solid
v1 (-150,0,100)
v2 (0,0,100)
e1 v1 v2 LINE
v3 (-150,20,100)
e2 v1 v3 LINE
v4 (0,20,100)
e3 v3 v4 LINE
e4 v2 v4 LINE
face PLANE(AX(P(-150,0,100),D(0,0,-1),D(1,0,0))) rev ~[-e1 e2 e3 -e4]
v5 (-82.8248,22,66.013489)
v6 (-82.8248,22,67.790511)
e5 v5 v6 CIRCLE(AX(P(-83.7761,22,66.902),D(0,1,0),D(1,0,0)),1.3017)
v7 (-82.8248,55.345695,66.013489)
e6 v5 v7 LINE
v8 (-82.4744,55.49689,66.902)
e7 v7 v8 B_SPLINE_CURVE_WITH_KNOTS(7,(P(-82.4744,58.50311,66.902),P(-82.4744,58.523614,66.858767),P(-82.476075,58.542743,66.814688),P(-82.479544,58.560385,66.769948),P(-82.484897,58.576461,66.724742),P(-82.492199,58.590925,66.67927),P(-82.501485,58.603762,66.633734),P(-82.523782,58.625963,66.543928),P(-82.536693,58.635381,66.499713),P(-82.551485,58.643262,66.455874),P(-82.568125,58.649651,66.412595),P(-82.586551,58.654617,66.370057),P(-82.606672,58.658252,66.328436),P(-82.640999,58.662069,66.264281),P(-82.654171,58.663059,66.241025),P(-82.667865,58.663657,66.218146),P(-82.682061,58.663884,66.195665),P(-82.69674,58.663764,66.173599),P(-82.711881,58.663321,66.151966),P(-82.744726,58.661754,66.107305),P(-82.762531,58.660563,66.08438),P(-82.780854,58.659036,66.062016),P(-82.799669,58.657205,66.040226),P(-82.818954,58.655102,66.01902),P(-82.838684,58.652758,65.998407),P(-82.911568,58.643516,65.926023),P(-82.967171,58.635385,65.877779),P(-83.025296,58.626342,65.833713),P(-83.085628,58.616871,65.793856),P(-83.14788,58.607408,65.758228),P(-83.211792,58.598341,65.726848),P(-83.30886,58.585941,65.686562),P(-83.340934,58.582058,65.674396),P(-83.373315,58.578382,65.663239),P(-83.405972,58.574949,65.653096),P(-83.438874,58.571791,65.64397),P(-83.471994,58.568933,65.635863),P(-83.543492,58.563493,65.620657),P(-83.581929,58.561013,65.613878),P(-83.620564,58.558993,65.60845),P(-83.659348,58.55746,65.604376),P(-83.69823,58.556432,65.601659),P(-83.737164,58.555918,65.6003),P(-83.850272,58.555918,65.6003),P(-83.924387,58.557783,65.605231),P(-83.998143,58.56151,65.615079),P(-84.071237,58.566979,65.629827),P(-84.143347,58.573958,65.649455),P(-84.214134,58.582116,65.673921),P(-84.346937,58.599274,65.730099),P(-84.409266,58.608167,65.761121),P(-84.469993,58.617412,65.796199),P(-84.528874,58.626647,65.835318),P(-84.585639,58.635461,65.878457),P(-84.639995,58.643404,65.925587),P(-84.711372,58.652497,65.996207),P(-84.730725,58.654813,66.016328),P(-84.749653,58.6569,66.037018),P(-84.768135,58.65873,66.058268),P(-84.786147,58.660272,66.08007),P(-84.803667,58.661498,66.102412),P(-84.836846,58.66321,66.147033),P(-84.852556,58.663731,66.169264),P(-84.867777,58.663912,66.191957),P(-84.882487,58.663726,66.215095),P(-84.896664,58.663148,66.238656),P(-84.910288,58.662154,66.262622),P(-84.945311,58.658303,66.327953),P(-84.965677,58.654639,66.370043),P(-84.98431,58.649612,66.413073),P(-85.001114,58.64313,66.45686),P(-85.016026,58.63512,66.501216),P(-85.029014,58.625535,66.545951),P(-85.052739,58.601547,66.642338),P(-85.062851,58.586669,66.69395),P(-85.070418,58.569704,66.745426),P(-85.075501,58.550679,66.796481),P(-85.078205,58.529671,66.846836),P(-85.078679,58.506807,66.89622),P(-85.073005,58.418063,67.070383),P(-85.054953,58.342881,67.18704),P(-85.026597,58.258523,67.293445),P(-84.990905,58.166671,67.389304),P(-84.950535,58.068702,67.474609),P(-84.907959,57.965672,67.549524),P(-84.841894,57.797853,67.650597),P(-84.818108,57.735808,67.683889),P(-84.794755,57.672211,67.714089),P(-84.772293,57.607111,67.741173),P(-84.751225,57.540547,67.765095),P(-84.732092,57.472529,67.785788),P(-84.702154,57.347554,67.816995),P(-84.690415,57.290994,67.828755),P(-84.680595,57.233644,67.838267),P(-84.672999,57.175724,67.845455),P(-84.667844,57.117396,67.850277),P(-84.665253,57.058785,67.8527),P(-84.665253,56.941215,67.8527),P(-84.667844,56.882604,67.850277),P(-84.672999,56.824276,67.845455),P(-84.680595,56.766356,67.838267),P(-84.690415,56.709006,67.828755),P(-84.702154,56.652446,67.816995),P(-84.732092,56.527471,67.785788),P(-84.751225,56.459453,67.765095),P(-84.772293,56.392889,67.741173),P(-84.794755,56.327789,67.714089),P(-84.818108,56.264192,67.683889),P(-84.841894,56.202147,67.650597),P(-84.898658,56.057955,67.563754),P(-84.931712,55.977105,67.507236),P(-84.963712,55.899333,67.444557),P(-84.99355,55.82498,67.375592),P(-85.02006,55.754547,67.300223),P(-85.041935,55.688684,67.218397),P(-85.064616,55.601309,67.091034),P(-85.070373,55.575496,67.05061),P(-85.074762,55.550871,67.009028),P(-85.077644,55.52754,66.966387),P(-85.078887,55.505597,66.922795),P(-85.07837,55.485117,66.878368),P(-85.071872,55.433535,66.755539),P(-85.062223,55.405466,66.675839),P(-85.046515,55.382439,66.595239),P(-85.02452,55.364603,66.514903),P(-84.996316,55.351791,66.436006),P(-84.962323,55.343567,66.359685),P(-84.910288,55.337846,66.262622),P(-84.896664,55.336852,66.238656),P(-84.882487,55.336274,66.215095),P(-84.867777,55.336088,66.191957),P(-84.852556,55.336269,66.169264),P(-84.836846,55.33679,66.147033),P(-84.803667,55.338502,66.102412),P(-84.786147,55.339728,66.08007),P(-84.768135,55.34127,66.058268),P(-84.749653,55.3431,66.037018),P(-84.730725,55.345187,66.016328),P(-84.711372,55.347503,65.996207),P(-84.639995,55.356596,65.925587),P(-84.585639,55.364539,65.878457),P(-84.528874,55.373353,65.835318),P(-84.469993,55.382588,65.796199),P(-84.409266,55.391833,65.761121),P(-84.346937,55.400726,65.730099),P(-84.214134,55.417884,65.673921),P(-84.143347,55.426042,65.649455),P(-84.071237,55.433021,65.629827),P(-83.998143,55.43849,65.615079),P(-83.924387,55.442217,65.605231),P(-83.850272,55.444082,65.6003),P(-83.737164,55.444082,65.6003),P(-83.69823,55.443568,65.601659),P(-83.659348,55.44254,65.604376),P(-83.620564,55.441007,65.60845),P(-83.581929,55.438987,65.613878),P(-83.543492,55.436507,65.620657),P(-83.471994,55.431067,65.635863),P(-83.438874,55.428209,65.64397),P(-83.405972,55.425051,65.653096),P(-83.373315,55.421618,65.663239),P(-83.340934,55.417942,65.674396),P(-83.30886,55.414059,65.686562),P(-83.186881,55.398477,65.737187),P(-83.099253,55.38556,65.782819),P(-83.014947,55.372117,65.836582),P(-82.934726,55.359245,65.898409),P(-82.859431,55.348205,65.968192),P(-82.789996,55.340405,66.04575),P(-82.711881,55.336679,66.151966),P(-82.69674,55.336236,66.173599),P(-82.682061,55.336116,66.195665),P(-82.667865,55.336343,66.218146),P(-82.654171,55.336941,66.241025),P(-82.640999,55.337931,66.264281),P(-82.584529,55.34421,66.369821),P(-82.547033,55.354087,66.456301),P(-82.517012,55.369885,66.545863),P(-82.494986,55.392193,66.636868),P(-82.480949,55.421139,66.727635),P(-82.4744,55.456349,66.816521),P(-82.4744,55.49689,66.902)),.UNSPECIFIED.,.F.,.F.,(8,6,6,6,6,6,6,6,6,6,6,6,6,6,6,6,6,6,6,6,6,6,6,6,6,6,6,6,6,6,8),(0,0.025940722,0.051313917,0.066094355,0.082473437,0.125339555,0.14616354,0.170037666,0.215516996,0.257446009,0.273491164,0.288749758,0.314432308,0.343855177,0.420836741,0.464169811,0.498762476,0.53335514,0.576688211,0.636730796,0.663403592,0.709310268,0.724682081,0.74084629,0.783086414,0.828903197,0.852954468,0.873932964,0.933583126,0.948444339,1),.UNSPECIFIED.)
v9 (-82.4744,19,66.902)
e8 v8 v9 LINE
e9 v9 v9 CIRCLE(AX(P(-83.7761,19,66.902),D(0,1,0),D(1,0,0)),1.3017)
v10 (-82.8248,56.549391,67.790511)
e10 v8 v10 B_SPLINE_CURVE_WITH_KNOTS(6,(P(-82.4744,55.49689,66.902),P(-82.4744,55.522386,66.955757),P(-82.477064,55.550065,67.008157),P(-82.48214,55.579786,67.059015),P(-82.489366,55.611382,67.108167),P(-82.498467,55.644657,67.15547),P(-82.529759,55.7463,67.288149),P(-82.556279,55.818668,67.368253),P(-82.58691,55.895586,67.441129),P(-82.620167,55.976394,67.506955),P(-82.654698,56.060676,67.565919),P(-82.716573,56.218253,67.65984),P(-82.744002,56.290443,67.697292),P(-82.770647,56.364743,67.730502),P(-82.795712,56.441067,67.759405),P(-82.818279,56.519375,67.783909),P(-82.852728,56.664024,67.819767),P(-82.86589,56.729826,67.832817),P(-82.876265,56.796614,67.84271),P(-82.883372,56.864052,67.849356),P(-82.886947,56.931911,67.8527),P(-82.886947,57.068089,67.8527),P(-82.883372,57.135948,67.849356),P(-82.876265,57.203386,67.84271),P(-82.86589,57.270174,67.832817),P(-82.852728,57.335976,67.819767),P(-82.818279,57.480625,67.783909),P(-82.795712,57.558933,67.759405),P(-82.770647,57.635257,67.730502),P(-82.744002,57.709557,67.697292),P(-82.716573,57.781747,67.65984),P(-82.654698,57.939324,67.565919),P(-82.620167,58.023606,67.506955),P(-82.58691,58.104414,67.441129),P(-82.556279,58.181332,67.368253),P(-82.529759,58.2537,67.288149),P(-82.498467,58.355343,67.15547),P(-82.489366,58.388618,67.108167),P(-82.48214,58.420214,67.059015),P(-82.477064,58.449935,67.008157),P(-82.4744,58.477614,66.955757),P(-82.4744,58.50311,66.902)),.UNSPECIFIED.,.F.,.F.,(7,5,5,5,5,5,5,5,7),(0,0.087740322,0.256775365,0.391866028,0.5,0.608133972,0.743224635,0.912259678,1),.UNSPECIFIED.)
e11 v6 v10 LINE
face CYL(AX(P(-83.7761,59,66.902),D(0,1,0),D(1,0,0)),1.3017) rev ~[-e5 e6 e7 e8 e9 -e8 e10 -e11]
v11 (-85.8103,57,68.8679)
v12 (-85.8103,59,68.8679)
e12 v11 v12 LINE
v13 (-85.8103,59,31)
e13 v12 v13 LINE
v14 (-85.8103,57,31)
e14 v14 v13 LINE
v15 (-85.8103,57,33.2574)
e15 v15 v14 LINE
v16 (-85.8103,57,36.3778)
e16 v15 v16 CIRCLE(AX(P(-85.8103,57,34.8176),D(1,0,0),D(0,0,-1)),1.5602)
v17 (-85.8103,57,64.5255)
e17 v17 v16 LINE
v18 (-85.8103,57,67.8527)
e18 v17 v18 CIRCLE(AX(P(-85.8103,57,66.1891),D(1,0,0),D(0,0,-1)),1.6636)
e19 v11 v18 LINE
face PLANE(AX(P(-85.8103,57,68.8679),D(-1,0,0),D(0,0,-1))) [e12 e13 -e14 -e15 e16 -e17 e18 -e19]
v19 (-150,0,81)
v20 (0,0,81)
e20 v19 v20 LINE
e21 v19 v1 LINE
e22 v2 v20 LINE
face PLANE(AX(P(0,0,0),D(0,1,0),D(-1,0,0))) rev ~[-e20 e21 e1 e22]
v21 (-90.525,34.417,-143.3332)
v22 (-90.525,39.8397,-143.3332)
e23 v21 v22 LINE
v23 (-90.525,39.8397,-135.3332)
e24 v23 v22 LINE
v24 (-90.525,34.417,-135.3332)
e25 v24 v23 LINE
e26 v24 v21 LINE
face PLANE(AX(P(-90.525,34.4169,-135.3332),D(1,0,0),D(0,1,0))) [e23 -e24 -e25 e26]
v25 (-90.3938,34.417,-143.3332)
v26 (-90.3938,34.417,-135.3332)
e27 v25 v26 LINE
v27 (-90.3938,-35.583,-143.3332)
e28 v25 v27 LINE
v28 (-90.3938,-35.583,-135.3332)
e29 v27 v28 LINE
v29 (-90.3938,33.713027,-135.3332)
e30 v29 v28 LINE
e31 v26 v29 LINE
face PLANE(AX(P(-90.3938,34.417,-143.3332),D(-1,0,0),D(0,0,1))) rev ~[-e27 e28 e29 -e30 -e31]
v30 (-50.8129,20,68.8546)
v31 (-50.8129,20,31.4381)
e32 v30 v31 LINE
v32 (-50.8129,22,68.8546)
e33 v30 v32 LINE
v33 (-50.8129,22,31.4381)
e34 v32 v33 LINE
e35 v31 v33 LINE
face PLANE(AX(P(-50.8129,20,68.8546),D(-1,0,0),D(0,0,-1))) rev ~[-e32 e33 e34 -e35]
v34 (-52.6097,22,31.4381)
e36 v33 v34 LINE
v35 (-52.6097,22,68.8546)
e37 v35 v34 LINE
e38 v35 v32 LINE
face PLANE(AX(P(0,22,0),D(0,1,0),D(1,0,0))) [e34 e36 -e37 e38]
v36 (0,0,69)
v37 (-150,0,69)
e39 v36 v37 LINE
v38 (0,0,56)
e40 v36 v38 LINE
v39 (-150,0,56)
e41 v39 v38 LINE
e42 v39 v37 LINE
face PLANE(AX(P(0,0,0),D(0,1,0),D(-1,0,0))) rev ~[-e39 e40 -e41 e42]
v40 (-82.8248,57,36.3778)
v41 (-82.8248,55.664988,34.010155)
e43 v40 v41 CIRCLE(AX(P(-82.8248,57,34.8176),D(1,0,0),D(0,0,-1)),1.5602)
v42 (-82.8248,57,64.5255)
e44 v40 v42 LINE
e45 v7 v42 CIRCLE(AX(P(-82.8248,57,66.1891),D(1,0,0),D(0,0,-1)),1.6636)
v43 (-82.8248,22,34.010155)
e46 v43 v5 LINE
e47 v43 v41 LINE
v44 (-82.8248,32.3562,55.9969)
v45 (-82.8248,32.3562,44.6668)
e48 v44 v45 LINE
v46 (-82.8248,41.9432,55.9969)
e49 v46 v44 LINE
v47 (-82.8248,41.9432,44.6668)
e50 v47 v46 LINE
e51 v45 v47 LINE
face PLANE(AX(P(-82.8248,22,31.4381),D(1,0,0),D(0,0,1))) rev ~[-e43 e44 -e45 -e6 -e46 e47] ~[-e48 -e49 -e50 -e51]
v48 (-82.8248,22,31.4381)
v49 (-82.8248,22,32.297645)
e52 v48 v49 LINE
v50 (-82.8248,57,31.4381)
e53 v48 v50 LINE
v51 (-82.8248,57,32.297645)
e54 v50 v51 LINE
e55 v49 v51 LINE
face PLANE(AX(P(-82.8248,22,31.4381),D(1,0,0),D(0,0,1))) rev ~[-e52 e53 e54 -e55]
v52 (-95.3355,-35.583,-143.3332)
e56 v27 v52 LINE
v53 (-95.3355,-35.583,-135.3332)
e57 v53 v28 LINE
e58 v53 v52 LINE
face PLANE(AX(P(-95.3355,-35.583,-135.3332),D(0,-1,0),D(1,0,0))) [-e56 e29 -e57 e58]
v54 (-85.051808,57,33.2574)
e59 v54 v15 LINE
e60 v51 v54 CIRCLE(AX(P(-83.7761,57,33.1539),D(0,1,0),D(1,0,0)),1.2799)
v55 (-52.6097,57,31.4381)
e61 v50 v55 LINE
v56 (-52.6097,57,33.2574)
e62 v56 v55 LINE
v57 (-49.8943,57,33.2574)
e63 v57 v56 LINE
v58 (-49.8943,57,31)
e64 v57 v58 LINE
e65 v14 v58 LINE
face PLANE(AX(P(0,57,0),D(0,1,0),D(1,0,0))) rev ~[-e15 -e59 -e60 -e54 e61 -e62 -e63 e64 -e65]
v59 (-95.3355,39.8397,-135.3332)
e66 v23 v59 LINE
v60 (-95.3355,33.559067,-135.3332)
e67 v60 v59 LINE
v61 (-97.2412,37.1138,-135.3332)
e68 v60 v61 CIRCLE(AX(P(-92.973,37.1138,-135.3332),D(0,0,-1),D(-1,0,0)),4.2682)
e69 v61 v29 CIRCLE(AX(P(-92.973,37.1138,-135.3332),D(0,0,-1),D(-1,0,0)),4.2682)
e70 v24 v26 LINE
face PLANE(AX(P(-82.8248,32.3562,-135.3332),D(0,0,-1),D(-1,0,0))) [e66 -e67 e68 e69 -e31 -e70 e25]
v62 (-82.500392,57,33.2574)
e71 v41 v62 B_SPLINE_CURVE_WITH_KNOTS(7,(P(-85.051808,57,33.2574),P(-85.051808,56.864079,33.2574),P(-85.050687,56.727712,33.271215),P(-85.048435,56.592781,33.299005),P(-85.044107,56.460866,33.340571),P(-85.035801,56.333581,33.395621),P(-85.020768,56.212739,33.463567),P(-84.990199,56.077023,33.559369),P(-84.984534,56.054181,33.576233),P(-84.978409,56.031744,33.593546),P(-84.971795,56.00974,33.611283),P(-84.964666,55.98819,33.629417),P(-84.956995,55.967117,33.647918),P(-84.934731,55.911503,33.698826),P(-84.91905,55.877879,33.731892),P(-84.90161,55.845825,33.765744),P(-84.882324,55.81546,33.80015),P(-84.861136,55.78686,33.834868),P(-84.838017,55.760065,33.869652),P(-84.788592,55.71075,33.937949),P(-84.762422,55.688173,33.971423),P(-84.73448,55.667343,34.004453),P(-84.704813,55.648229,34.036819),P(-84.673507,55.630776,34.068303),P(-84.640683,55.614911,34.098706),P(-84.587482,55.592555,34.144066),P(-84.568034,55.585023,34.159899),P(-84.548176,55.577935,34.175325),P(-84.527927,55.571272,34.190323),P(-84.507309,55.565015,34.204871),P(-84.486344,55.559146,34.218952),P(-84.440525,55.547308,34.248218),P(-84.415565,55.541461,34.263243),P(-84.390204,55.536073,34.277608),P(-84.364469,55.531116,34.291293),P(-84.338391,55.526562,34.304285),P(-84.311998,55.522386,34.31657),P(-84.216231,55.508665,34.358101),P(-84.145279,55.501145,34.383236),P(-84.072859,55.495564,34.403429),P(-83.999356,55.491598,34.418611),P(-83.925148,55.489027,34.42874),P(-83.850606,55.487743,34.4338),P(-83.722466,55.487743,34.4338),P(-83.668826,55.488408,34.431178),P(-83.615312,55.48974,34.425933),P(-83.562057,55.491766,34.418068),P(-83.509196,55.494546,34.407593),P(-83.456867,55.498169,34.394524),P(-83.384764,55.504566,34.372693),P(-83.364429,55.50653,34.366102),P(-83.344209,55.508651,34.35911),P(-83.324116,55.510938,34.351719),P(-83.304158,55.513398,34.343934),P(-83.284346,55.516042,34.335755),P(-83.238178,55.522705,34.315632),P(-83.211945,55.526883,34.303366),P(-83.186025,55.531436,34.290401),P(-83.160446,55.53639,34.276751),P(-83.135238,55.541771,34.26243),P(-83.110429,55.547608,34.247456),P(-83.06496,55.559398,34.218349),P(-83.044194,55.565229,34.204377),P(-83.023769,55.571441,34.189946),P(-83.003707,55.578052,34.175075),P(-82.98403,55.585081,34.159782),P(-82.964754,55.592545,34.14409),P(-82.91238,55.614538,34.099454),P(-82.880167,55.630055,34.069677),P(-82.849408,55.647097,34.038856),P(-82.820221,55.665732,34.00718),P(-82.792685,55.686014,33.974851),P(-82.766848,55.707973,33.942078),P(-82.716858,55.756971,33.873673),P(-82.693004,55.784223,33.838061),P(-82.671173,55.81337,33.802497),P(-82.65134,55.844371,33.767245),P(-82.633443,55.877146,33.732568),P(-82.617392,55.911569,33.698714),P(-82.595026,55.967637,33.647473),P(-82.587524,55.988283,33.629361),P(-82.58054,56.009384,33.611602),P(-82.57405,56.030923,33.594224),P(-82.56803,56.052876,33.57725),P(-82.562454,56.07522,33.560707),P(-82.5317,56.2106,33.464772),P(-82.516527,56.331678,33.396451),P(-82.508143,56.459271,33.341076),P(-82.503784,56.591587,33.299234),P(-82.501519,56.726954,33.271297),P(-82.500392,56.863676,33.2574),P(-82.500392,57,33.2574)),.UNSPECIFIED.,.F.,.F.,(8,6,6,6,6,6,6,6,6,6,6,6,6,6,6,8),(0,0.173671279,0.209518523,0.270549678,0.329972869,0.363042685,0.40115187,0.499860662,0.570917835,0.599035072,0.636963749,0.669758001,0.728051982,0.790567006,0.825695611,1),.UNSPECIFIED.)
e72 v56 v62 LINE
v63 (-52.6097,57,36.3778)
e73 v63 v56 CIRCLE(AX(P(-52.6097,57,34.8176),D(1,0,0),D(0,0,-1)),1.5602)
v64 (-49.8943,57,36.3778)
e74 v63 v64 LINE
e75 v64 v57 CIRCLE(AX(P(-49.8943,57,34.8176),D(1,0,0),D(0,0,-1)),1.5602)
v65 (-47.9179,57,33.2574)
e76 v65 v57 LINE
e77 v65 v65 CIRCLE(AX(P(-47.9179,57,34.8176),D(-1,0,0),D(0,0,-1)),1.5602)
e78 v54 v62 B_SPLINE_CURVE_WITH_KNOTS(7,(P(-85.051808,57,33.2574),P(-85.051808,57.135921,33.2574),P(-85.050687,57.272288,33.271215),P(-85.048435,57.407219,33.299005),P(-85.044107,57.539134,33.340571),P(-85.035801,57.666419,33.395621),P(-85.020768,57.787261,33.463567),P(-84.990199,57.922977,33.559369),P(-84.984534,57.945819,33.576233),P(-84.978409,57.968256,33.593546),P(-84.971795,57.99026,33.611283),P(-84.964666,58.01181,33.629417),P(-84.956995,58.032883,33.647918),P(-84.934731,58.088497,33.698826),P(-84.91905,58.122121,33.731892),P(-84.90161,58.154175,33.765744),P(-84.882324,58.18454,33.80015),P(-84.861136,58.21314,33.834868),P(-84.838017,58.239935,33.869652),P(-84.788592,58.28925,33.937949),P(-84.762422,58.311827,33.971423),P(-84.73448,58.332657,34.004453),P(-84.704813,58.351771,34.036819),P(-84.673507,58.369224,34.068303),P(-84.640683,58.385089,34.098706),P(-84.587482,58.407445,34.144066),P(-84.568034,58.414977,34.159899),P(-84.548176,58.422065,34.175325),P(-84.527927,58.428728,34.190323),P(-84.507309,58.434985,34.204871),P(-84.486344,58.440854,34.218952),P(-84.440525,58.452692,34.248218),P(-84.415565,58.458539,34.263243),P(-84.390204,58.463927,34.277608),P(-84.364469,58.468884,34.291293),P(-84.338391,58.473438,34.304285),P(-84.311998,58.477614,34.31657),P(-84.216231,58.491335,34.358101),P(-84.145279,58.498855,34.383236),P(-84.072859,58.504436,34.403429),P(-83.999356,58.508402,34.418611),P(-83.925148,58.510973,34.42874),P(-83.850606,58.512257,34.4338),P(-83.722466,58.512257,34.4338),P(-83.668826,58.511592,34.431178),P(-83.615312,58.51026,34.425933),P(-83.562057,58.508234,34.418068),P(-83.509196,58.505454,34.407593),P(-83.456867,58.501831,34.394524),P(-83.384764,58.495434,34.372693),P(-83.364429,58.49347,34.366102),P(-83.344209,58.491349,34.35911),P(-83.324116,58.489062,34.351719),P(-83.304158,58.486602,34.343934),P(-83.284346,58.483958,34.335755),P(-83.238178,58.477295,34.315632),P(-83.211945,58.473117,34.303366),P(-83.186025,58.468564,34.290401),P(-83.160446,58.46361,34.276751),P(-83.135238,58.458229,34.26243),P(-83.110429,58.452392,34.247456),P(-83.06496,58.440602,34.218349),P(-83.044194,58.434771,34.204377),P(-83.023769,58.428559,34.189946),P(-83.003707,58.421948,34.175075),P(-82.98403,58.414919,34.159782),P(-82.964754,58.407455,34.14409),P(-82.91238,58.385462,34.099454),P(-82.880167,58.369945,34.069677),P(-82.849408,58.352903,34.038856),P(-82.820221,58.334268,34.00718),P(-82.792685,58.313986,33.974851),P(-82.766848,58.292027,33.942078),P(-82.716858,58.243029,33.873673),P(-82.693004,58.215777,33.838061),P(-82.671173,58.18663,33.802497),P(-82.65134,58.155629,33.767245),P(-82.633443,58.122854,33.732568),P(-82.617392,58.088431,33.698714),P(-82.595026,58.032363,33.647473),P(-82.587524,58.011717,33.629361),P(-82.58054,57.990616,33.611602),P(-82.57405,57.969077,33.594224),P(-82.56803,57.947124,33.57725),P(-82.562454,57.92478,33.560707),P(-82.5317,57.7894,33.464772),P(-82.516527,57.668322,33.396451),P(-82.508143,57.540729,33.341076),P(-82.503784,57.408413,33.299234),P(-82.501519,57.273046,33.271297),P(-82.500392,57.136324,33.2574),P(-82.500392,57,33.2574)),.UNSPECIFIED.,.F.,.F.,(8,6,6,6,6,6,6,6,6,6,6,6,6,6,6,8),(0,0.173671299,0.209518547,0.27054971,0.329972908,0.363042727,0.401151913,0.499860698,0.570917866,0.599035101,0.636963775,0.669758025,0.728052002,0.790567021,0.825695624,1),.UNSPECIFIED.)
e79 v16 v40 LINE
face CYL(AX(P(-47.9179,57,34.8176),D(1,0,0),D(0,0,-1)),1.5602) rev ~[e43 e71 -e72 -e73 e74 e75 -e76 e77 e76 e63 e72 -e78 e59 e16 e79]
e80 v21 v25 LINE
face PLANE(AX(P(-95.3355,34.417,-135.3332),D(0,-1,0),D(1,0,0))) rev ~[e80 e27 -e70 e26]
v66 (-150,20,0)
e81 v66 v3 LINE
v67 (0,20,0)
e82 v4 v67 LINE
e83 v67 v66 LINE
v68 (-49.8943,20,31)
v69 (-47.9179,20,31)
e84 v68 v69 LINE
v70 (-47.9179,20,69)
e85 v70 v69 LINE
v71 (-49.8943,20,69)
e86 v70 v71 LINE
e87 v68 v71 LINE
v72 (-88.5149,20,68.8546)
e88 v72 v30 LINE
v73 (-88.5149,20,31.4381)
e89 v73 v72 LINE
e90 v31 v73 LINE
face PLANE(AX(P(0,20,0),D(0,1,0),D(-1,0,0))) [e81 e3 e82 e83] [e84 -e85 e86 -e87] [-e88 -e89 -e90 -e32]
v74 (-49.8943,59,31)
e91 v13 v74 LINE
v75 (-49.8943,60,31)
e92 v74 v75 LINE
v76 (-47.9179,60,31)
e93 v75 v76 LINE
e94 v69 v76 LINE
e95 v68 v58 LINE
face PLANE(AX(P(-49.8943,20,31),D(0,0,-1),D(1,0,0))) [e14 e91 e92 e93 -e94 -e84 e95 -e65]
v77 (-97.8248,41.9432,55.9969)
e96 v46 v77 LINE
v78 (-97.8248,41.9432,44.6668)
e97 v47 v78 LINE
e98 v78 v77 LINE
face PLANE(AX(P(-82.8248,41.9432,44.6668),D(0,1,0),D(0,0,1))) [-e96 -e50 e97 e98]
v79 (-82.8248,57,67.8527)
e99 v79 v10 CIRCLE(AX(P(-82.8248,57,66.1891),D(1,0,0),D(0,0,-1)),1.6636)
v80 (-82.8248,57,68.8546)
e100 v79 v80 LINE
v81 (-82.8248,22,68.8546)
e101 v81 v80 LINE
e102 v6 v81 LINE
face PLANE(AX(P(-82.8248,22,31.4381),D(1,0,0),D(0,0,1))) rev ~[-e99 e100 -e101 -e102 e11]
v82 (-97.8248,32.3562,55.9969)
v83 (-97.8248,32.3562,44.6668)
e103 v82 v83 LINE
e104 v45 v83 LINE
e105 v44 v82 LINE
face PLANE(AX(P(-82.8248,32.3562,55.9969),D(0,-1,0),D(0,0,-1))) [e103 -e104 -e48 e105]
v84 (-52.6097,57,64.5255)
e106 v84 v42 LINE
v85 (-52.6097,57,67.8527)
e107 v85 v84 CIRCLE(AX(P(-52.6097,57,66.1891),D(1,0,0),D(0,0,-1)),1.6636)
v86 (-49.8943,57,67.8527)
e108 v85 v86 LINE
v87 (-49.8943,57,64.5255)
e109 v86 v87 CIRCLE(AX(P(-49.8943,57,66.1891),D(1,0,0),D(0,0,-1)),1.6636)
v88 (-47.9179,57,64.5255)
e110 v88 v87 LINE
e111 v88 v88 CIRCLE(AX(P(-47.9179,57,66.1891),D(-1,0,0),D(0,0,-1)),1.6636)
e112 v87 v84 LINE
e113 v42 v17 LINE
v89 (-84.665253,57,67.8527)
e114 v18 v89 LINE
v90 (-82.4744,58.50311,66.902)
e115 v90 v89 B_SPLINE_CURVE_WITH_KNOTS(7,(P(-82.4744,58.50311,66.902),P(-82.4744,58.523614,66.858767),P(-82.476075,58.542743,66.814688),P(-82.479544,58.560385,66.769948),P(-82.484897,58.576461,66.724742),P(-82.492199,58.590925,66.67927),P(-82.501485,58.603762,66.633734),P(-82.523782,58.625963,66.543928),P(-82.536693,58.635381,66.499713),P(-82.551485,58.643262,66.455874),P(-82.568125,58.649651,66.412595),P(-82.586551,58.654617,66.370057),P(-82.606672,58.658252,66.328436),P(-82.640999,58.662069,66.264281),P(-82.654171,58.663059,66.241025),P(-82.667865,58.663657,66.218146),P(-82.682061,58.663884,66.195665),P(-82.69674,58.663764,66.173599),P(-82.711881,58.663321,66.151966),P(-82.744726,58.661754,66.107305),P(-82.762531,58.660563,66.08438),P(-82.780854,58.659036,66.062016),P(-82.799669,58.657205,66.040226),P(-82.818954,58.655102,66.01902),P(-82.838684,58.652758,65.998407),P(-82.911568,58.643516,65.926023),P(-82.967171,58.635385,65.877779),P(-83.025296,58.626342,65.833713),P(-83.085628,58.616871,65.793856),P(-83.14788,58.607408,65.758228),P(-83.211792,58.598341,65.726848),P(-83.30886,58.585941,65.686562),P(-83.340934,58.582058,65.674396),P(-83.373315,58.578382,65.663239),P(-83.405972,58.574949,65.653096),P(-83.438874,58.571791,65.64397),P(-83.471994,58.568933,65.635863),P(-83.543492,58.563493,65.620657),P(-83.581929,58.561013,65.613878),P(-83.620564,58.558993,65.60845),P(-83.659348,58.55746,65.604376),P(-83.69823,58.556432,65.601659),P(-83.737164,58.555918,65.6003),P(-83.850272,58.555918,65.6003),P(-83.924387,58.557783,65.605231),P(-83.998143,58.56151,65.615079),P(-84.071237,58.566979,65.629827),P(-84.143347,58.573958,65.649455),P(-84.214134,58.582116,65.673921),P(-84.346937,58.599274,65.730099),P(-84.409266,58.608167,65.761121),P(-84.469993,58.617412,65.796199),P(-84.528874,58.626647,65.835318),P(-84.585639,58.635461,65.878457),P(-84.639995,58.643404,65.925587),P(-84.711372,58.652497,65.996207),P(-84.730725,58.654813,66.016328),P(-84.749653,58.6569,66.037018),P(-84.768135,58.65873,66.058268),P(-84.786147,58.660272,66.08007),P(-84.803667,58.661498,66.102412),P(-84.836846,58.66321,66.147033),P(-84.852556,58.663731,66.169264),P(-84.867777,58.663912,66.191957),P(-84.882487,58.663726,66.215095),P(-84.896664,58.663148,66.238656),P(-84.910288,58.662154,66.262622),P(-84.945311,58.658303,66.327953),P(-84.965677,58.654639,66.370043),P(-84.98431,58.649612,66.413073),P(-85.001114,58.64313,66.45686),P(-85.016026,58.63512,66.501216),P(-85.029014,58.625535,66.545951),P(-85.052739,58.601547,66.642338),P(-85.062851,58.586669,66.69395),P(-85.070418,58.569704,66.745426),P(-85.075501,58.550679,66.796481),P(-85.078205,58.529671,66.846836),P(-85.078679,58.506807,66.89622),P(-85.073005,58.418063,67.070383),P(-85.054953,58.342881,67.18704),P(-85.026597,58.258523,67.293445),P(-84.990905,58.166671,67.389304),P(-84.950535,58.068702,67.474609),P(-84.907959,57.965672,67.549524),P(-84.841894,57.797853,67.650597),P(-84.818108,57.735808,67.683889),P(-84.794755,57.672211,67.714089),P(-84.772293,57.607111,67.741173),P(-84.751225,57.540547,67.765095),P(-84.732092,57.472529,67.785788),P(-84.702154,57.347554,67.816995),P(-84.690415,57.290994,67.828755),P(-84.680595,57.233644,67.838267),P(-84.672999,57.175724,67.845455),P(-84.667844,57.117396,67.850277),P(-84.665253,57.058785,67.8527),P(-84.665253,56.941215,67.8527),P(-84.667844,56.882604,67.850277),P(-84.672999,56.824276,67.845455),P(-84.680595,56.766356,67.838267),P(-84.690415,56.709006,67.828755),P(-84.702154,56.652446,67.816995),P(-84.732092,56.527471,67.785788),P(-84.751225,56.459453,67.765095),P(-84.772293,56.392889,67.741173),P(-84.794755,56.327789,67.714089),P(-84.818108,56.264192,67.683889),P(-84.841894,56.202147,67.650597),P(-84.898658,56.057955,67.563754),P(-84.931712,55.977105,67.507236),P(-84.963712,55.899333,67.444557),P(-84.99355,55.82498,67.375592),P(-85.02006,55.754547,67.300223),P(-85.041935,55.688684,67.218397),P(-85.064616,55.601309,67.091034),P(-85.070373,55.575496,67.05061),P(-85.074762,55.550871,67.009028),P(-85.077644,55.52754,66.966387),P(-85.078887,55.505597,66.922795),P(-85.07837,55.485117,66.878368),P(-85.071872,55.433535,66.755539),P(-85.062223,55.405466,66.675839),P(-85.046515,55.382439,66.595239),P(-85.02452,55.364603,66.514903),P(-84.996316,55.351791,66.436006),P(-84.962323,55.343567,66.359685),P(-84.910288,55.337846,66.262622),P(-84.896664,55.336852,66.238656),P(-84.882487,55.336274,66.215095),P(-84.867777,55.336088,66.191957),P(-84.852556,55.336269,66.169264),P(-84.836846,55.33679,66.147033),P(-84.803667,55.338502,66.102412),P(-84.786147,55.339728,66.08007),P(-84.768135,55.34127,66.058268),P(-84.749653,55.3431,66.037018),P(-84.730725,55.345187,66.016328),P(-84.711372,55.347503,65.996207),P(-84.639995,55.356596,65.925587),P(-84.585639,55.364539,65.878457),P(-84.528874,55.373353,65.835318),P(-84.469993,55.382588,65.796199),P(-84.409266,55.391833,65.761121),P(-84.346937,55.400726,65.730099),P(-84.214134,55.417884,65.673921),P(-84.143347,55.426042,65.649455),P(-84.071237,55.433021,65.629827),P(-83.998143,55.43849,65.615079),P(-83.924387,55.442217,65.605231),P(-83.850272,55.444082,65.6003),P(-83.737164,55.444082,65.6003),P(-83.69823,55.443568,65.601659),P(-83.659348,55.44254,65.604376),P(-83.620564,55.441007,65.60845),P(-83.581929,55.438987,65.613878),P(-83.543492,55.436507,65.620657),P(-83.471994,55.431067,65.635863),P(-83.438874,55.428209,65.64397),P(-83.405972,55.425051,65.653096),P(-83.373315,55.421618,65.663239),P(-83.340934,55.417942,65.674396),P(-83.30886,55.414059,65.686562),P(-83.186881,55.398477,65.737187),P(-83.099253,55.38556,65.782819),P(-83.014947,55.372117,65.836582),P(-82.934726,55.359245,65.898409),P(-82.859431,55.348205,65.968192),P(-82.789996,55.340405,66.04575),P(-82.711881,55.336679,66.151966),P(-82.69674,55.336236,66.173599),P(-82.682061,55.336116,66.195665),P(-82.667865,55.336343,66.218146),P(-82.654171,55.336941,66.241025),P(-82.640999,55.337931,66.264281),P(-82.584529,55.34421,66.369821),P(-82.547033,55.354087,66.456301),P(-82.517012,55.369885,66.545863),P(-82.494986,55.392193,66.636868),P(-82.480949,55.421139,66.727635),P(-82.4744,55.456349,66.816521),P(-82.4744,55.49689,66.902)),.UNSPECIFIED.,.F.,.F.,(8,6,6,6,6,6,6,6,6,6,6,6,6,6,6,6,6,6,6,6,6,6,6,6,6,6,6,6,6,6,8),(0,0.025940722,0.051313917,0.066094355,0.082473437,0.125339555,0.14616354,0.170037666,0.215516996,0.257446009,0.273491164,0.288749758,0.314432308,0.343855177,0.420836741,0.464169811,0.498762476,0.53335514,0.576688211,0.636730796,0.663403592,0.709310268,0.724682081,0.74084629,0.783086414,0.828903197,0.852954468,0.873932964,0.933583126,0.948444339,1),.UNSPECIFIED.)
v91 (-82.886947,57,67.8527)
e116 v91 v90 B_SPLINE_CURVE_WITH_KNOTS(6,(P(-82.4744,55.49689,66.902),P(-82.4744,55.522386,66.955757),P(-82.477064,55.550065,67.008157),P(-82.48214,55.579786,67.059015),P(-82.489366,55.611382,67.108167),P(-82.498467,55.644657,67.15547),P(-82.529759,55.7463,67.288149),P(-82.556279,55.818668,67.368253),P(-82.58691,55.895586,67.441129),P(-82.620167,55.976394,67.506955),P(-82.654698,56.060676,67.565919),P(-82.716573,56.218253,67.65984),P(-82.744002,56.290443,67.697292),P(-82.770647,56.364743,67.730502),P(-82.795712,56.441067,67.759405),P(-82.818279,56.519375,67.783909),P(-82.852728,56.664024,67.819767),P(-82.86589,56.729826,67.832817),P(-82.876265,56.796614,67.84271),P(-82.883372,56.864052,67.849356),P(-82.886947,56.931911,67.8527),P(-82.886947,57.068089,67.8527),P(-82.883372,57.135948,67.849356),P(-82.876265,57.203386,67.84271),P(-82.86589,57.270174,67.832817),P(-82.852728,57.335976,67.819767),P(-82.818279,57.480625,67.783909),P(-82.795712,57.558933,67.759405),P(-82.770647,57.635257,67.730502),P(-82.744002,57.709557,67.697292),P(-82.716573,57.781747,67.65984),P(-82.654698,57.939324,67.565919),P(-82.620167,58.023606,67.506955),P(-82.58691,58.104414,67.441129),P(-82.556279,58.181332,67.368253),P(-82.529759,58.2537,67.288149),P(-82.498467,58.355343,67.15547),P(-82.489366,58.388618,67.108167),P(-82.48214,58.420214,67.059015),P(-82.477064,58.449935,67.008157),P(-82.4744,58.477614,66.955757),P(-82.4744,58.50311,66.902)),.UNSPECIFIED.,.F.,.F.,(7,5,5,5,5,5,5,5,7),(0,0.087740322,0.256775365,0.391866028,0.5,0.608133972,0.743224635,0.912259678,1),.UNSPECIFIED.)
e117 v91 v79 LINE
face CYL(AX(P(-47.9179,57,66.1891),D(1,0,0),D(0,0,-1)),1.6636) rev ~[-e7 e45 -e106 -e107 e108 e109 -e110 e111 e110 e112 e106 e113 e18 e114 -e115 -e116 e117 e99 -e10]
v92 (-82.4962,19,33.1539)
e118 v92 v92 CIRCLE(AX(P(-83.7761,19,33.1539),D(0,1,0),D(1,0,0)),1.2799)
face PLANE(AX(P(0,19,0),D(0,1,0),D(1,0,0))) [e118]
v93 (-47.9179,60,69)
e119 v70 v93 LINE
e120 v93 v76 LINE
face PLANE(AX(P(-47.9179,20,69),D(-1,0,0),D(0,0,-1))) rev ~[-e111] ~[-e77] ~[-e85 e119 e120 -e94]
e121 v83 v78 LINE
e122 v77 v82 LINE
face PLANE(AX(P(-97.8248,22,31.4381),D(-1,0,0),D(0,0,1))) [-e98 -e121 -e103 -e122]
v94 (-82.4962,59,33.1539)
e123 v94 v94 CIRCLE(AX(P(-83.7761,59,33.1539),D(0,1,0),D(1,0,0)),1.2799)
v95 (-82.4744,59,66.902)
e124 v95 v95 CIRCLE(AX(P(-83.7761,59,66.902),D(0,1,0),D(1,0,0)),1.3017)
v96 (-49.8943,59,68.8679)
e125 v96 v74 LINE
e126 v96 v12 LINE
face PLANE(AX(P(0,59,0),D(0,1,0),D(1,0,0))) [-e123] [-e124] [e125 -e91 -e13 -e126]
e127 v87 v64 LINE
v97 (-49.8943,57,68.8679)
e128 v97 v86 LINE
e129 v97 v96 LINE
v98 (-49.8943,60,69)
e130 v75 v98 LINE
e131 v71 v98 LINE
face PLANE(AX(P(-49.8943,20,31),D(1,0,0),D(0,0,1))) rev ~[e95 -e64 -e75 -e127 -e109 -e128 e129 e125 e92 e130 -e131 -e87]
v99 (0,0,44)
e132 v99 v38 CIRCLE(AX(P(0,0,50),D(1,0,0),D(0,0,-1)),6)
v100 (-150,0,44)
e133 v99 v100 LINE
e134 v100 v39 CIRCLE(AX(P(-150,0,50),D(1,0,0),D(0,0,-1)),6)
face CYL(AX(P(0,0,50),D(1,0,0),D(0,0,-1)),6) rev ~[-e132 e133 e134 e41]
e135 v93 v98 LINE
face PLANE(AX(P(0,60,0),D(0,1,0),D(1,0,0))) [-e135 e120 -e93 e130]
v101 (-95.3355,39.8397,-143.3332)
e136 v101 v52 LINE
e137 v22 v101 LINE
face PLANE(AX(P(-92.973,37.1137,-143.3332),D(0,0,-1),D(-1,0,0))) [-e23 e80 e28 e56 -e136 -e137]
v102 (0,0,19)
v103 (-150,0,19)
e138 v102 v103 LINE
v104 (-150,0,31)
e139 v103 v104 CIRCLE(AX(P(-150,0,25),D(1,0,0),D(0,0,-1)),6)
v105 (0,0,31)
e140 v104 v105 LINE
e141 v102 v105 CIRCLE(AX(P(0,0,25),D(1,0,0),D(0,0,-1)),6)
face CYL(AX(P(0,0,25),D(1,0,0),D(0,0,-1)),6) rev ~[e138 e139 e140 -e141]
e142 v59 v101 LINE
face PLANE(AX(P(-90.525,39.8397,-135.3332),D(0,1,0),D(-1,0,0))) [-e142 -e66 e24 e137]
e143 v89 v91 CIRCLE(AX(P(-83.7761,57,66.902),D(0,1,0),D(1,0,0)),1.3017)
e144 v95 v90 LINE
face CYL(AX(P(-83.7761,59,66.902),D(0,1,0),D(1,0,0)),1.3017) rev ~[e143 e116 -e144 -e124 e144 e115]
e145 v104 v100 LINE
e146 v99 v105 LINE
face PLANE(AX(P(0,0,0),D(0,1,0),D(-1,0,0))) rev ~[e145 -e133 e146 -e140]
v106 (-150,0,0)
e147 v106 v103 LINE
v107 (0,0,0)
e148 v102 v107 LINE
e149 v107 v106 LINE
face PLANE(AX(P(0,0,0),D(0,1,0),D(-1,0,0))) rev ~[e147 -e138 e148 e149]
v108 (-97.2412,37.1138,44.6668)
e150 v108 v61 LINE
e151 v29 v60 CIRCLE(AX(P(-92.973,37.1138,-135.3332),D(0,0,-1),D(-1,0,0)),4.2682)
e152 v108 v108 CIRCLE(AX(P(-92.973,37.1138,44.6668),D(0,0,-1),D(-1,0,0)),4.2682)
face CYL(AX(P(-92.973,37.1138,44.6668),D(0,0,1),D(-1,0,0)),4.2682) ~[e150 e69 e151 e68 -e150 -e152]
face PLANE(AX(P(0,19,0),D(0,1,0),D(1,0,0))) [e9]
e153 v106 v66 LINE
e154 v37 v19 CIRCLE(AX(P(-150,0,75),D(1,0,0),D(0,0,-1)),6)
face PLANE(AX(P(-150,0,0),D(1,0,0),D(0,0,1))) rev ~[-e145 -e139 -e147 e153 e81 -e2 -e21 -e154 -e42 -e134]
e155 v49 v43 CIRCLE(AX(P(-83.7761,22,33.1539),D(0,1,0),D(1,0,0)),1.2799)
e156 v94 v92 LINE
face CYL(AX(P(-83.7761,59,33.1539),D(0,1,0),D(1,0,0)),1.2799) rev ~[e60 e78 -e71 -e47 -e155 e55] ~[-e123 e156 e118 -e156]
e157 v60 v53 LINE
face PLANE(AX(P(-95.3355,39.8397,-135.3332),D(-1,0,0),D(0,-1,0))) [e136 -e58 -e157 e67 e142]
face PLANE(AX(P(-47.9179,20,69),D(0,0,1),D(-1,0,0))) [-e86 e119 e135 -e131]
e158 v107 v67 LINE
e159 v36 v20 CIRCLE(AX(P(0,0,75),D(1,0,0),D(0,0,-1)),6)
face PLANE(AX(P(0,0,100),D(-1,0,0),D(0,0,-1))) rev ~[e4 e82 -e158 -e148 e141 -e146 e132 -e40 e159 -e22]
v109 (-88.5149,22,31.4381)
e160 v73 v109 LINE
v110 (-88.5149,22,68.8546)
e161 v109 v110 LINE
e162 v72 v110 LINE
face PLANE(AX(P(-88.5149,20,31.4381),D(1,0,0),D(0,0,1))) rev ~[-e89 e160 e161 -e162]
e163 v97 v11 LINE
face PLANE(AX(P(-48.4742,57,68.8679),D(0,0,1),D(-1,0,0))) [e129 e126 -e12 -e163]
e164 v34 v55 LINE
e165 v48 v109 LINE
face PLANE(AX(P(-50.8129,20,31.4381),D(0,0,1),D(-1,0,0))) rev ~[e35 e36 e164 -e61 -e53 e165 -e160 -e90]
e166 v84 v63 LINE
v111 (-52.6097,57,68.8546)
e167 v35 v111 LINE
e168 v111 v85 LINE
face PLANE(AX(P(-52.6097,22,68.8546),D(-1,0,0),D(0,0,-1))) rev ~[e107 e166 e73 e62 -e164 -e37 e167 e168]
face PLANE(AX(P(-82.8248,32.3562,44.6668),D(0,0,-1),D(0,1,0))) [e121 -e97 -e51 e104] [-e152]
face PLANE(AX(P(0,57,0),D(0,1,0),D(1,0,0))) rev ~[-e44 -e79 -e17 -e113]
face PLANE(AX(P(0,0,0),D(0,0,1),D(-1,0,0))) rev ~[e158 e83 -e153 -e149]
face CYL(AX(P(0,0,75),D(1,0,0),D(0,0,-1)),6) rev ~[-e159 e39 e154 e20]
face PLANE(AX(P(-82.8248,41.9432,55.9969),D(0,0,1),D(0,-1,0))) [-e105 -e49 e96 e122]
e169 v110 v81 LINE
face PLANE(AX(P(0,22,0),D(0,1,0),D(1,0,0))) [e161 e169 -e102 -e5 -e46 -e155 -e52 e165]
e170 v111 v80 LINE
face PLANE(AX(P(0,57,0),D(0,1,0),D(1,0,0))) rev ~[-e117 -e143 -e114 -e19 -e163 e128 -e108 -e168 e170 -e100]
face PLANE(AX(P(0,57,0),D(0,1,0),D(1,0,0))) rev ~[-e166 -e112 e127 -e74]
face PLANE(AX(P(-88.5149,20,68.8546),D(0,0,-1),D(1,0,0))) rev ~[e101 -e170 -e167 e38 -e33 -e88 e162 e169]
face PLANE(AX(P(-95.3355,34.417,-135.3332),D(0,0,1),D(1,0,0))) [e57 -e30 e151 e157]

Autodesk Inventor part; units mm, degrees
ref_plane "YZ Plane" through (0, 0, 0) normal (1, 0, 0) x (0, 1, 0)
ref_plane "XZ Plane" through (0, 0, 0) normal (0, 1, 0) x (-1, 0, 0)
ref_plane "XY Plane" through (0, 0, 0) normal (0, 0, 1) x (1, 0, 0)
sketch "Sketch1" plane through (0, 0, 0) normal (0, 1, 0) x (-1, 0, 0)
  line L0 (0, 0) -> (150, 0)
  line L1 (150, 0) -> (150, 100)
  line L2 (150, 100) -> (0, 100)
  line L3 (0, 100) -> (0, 0)
  dimension "d0" = 150
  dimension "d1" = 100
extrude "Extrusion1" add sketch "Sketch1" along normal blind 20
sketch "Sketch2" plane through (0, 20, 0) normal (0, 1, 0) x (1, 0, 0)
  point P0 (0, 0)
sketch "Sketch3" plane through (0, 20, 0) normal (0, 1, 0) x (1, 0, 0)
  point P0 (0, 0)
sketch "Sketch4" plane through (0, 20, 0) normal (0, 1, 0) x (1, 0, 0)
  line L0 (-88.5149, -68.8546) -> (-50.8129, -68.8546)
  line L1 (-50.8129, -68.8546) -> (-50.8129, -31.4381)
  line L2 (-50.8129, -31.4381) -> (-88.5149, -31.4381)
  line L3 (-88.5149, -31.4381) -> (-88.5149, -68.8546)
  point P0 (0, 0)
extrude "Extrusion2" add sketch "Sketch4" along normal blind 2
sketch "Sketch8" plane through (0, 22, 0) normal (0, 1, 0) x (1, 0, 0)
  point P0 (0, 0)
sketch "Sketch9" plane through (0, 22, 0) normal (0, 1, 0) x (1, 0, 0)
  line L0 (-50.8129, -68.8546) -> (-88.5149, -68.8546) projected
  line L1 (-88.5149, -31.4381) -> (-50.8129, -31.4381) projected
  line L2 (-82.8248, -68.8546) -> (-52.6097, -68.8546)
  line L3 (-52.6097, -68.8546) -> (-52.6097, -31.4381)
  line L4 (-52.6097, -31.4381) -> (-82.8248, -31.4381)
  line L5 (-82.8248, -31.4381) -> (-82.8248, -68.8546)
  point P0 (0, 0)
extrude "Extrusion5" add sketch "Sketch9" along normal blind 35
sketch "Sketch10" plane through (-82.8248, 22, 31.4381) normal (-1, 0, 0) x (0, 0, 1)
  line L0 (13.2287, 19.9432) -> (24.5588, 19.9432)
  line L1 (24.5588, 19.9432) -> (24.5588, 10.3562)
  line L2 (24.5588, 10.3562) -> (13.2287, 10.3562)
  line L3 (13.2287, 10.3562) -> (13.2287, 19.9432)
  point P0 (-31.4381, -22)
extrude "Extrusion6" add sketch "Sketch10" along normal blind 15
sketch "Sketch12" plane through (-82.8248, 32.3562, 44.6668) normal (0, 0, -1) x (-1, 0, 0)
  circle A0 centre (10.1482, 4.7576) radius 4.2682
  point P0 (-82.8248, -32.3562)
extrude "Extrusion7" add sketch "Sketch12" along normal blind 180
sketch "Sketch13" plane through (-97.8248, 22, 31.4381) normal (-1, 0, 0) x (0, 0, 1)
  point P0 (-31.4381, -22)
sketch "Sketch14" plane through (0, 0, 0) normal (0, 0, 1) x (1, 0, 0)
  point P0 (0, 0)
sketch "Sketch15" plane through (0, 0, 0) normal (0, 1, 0) x (-1, 0, 0)
  point P0 (0, 0)
sketch "Sketch16" plane through (0, 0, 0) normal (0, 1, 0) x (-1, 0, 0)
  point P0 (0, 0)
sketch "Sketch17" plane through (-92.973, 37.1137, -135.3332) normal (0, 0, -1) x (-1, 0, 0)
  circle A0 centre (0, 0) radius 4.2682 projected
  point P0 (-92.973, -37.1137)
sketch "Sketch18" plane through (-92.973, 37.1137, -135.3332) normal (0, 0, -1) x (-1, 0, 0)
  point P0 (-92.973, -37.1137)
sketch "Sketch19" plane through (-92.973, 37.1137, -135.3332) normal (0, 0, -1) x (-1, 0, 0)
  point P0 (-92.973, -37.1137)
sketch "Sketch20" plane through (-92.973, 37.1137, -135.3332) normal (0, 0, -1) x (-1, 0, 0)
  line L0 (-2.448, 2.726) -> (2.3625, 2.726)
  line L1 (2.3625, 2.726) -> (2.3625, -2.6968)
  line L2 (2.3625, -2.6968) -> (-2.448, -2.6968)
  line L3 (-2.448, -2.6968) -> (-2.448, 2.726)
  point P0 (-92.973, -37.1137)
extrude "Extrusion8" add sketch "Sketch20" along normal blind 8
sketch "Sketch21" plane through (-95.3355, 34.417, -135.3332) normal (0, -1, 0) x (1, 0, 0)
  point P0 (95.3355, 135.3332)
sketch "Sketch22" plane through (-95.3355, 34.417, -135.3332) normal (0, -1, 0) x (1, 0, 0)
  point P0 (95.3355, 135.3332)
sketch "Sketch23" plane through (-95.3355, 34.417, -135.3332) normal (0, -1, 0) x (1, 0, 0)
  line L0 (0, -8) -> (4.8105, -8) projected
  line L1 (-1.9057, 0) -> (6.6307, 0) projected
  line L2 (0, -8) -> (4.9417, -8)
  line L3 (4.9417, -8) -> (4.9417, 0)
  line L4 (4.9417, 0) -> (0, 0)
  line L5 (0, 0) -> (0, -8)
  point P0 (95.3355, 135.3332)
extrude "Extrusion9" add sketch "Sketch23" along normal blind 70
sketch "Sketch27" plane through (0, 0, 100) normal (1, 0, 0) x (0, 0, -1)
  line L0 (0, 0) -> (100, 0)
  line L1 (100, 0) -> (50, 0)
  line L2 (100, 0) -> (0, 0) projected
  line L3 (75, 0) -> (50, 0)
  line L4 (0, 0) -> (50, 0)
  circle A0 centre (25, 0) radius 6
  circle A1 centre (50, 0) radius 6
  circle A2 centre (75, 0) radius 6
  dimension "d24" = 12
  dimension "d25" = 12
  dimension "d26" = 12
extrude "Extrusion10" cut sketch "Sketch27" along normal through all both and the other way through all
sketch "Sketch30" plane through (0, 57, 0) normal (0, 1, 0) x (1, 0, 0)
  line L0 (-150, -31) -> (0, -31) projected
  line L1 (-85.8103, -31) -> (-48.4742, -31)
  line L2 (-48.4742, -31) -> (-48.4742, -68.8679)
  line L3 (-48.4742, -68.8679) -> (-85.8103, -68.8679)
  line L4 (-85.8103, -68.8679) -> (-85.8103, -31)
  point P0 (0, 0)
extrude "Extrusion11" add sketch "Sketch30" along normal blind 2
sketch "Sketch31" plane through (0, 20, 0) normal (0, 1, 0) x (1, 0, 0)
  line L0 (0, -69) -> (-150, -69) projected
  line L1 (-150, -31) -> (0, -31) projected
  line L2 (-49.8943, -69) -> (-47.9179, -69)
  line L3 (-47.9179, -69) -> (-47.9179, -31)
  line L4 (-47.9179, -31) -> (-49.8943, -31)
  line L5 (-49.8943, -31) -> (-49.8943, -69)
  point P0 (0, 0)
extrude "Extrusion12" add sketch "Sketch31" along normal blind 40
sketch "Sketch32" plane through (0, 59, 0) normal (0, 1, 0) x (1, 0, 0)
  circle A0 centre (-83.7761, -33.1539) radius 1.2799
  circle A1 centre (-83.7761, -66.902) radius 1.3017
  point P0 (0, 0)
extrude "Extrusion13" cut sketch "Sketch32" against normal blind 40
sketch "Sketch33" plane through (-47.9179, 20, 69) normal (1, 0, 0) x (0, 0, -1)
  line L0 (0.1321, 37) -> (38, 37) projected
  circle A0 centre (34.1824, 37) radius 1.5602
  circle A1 centre (2.8109, 37) radius 1.6636
  point P0 (69, -20)
extrude "Extrusion14" cut sketch "Sketch33" against normal blind 40
properties part number "Vertical"
